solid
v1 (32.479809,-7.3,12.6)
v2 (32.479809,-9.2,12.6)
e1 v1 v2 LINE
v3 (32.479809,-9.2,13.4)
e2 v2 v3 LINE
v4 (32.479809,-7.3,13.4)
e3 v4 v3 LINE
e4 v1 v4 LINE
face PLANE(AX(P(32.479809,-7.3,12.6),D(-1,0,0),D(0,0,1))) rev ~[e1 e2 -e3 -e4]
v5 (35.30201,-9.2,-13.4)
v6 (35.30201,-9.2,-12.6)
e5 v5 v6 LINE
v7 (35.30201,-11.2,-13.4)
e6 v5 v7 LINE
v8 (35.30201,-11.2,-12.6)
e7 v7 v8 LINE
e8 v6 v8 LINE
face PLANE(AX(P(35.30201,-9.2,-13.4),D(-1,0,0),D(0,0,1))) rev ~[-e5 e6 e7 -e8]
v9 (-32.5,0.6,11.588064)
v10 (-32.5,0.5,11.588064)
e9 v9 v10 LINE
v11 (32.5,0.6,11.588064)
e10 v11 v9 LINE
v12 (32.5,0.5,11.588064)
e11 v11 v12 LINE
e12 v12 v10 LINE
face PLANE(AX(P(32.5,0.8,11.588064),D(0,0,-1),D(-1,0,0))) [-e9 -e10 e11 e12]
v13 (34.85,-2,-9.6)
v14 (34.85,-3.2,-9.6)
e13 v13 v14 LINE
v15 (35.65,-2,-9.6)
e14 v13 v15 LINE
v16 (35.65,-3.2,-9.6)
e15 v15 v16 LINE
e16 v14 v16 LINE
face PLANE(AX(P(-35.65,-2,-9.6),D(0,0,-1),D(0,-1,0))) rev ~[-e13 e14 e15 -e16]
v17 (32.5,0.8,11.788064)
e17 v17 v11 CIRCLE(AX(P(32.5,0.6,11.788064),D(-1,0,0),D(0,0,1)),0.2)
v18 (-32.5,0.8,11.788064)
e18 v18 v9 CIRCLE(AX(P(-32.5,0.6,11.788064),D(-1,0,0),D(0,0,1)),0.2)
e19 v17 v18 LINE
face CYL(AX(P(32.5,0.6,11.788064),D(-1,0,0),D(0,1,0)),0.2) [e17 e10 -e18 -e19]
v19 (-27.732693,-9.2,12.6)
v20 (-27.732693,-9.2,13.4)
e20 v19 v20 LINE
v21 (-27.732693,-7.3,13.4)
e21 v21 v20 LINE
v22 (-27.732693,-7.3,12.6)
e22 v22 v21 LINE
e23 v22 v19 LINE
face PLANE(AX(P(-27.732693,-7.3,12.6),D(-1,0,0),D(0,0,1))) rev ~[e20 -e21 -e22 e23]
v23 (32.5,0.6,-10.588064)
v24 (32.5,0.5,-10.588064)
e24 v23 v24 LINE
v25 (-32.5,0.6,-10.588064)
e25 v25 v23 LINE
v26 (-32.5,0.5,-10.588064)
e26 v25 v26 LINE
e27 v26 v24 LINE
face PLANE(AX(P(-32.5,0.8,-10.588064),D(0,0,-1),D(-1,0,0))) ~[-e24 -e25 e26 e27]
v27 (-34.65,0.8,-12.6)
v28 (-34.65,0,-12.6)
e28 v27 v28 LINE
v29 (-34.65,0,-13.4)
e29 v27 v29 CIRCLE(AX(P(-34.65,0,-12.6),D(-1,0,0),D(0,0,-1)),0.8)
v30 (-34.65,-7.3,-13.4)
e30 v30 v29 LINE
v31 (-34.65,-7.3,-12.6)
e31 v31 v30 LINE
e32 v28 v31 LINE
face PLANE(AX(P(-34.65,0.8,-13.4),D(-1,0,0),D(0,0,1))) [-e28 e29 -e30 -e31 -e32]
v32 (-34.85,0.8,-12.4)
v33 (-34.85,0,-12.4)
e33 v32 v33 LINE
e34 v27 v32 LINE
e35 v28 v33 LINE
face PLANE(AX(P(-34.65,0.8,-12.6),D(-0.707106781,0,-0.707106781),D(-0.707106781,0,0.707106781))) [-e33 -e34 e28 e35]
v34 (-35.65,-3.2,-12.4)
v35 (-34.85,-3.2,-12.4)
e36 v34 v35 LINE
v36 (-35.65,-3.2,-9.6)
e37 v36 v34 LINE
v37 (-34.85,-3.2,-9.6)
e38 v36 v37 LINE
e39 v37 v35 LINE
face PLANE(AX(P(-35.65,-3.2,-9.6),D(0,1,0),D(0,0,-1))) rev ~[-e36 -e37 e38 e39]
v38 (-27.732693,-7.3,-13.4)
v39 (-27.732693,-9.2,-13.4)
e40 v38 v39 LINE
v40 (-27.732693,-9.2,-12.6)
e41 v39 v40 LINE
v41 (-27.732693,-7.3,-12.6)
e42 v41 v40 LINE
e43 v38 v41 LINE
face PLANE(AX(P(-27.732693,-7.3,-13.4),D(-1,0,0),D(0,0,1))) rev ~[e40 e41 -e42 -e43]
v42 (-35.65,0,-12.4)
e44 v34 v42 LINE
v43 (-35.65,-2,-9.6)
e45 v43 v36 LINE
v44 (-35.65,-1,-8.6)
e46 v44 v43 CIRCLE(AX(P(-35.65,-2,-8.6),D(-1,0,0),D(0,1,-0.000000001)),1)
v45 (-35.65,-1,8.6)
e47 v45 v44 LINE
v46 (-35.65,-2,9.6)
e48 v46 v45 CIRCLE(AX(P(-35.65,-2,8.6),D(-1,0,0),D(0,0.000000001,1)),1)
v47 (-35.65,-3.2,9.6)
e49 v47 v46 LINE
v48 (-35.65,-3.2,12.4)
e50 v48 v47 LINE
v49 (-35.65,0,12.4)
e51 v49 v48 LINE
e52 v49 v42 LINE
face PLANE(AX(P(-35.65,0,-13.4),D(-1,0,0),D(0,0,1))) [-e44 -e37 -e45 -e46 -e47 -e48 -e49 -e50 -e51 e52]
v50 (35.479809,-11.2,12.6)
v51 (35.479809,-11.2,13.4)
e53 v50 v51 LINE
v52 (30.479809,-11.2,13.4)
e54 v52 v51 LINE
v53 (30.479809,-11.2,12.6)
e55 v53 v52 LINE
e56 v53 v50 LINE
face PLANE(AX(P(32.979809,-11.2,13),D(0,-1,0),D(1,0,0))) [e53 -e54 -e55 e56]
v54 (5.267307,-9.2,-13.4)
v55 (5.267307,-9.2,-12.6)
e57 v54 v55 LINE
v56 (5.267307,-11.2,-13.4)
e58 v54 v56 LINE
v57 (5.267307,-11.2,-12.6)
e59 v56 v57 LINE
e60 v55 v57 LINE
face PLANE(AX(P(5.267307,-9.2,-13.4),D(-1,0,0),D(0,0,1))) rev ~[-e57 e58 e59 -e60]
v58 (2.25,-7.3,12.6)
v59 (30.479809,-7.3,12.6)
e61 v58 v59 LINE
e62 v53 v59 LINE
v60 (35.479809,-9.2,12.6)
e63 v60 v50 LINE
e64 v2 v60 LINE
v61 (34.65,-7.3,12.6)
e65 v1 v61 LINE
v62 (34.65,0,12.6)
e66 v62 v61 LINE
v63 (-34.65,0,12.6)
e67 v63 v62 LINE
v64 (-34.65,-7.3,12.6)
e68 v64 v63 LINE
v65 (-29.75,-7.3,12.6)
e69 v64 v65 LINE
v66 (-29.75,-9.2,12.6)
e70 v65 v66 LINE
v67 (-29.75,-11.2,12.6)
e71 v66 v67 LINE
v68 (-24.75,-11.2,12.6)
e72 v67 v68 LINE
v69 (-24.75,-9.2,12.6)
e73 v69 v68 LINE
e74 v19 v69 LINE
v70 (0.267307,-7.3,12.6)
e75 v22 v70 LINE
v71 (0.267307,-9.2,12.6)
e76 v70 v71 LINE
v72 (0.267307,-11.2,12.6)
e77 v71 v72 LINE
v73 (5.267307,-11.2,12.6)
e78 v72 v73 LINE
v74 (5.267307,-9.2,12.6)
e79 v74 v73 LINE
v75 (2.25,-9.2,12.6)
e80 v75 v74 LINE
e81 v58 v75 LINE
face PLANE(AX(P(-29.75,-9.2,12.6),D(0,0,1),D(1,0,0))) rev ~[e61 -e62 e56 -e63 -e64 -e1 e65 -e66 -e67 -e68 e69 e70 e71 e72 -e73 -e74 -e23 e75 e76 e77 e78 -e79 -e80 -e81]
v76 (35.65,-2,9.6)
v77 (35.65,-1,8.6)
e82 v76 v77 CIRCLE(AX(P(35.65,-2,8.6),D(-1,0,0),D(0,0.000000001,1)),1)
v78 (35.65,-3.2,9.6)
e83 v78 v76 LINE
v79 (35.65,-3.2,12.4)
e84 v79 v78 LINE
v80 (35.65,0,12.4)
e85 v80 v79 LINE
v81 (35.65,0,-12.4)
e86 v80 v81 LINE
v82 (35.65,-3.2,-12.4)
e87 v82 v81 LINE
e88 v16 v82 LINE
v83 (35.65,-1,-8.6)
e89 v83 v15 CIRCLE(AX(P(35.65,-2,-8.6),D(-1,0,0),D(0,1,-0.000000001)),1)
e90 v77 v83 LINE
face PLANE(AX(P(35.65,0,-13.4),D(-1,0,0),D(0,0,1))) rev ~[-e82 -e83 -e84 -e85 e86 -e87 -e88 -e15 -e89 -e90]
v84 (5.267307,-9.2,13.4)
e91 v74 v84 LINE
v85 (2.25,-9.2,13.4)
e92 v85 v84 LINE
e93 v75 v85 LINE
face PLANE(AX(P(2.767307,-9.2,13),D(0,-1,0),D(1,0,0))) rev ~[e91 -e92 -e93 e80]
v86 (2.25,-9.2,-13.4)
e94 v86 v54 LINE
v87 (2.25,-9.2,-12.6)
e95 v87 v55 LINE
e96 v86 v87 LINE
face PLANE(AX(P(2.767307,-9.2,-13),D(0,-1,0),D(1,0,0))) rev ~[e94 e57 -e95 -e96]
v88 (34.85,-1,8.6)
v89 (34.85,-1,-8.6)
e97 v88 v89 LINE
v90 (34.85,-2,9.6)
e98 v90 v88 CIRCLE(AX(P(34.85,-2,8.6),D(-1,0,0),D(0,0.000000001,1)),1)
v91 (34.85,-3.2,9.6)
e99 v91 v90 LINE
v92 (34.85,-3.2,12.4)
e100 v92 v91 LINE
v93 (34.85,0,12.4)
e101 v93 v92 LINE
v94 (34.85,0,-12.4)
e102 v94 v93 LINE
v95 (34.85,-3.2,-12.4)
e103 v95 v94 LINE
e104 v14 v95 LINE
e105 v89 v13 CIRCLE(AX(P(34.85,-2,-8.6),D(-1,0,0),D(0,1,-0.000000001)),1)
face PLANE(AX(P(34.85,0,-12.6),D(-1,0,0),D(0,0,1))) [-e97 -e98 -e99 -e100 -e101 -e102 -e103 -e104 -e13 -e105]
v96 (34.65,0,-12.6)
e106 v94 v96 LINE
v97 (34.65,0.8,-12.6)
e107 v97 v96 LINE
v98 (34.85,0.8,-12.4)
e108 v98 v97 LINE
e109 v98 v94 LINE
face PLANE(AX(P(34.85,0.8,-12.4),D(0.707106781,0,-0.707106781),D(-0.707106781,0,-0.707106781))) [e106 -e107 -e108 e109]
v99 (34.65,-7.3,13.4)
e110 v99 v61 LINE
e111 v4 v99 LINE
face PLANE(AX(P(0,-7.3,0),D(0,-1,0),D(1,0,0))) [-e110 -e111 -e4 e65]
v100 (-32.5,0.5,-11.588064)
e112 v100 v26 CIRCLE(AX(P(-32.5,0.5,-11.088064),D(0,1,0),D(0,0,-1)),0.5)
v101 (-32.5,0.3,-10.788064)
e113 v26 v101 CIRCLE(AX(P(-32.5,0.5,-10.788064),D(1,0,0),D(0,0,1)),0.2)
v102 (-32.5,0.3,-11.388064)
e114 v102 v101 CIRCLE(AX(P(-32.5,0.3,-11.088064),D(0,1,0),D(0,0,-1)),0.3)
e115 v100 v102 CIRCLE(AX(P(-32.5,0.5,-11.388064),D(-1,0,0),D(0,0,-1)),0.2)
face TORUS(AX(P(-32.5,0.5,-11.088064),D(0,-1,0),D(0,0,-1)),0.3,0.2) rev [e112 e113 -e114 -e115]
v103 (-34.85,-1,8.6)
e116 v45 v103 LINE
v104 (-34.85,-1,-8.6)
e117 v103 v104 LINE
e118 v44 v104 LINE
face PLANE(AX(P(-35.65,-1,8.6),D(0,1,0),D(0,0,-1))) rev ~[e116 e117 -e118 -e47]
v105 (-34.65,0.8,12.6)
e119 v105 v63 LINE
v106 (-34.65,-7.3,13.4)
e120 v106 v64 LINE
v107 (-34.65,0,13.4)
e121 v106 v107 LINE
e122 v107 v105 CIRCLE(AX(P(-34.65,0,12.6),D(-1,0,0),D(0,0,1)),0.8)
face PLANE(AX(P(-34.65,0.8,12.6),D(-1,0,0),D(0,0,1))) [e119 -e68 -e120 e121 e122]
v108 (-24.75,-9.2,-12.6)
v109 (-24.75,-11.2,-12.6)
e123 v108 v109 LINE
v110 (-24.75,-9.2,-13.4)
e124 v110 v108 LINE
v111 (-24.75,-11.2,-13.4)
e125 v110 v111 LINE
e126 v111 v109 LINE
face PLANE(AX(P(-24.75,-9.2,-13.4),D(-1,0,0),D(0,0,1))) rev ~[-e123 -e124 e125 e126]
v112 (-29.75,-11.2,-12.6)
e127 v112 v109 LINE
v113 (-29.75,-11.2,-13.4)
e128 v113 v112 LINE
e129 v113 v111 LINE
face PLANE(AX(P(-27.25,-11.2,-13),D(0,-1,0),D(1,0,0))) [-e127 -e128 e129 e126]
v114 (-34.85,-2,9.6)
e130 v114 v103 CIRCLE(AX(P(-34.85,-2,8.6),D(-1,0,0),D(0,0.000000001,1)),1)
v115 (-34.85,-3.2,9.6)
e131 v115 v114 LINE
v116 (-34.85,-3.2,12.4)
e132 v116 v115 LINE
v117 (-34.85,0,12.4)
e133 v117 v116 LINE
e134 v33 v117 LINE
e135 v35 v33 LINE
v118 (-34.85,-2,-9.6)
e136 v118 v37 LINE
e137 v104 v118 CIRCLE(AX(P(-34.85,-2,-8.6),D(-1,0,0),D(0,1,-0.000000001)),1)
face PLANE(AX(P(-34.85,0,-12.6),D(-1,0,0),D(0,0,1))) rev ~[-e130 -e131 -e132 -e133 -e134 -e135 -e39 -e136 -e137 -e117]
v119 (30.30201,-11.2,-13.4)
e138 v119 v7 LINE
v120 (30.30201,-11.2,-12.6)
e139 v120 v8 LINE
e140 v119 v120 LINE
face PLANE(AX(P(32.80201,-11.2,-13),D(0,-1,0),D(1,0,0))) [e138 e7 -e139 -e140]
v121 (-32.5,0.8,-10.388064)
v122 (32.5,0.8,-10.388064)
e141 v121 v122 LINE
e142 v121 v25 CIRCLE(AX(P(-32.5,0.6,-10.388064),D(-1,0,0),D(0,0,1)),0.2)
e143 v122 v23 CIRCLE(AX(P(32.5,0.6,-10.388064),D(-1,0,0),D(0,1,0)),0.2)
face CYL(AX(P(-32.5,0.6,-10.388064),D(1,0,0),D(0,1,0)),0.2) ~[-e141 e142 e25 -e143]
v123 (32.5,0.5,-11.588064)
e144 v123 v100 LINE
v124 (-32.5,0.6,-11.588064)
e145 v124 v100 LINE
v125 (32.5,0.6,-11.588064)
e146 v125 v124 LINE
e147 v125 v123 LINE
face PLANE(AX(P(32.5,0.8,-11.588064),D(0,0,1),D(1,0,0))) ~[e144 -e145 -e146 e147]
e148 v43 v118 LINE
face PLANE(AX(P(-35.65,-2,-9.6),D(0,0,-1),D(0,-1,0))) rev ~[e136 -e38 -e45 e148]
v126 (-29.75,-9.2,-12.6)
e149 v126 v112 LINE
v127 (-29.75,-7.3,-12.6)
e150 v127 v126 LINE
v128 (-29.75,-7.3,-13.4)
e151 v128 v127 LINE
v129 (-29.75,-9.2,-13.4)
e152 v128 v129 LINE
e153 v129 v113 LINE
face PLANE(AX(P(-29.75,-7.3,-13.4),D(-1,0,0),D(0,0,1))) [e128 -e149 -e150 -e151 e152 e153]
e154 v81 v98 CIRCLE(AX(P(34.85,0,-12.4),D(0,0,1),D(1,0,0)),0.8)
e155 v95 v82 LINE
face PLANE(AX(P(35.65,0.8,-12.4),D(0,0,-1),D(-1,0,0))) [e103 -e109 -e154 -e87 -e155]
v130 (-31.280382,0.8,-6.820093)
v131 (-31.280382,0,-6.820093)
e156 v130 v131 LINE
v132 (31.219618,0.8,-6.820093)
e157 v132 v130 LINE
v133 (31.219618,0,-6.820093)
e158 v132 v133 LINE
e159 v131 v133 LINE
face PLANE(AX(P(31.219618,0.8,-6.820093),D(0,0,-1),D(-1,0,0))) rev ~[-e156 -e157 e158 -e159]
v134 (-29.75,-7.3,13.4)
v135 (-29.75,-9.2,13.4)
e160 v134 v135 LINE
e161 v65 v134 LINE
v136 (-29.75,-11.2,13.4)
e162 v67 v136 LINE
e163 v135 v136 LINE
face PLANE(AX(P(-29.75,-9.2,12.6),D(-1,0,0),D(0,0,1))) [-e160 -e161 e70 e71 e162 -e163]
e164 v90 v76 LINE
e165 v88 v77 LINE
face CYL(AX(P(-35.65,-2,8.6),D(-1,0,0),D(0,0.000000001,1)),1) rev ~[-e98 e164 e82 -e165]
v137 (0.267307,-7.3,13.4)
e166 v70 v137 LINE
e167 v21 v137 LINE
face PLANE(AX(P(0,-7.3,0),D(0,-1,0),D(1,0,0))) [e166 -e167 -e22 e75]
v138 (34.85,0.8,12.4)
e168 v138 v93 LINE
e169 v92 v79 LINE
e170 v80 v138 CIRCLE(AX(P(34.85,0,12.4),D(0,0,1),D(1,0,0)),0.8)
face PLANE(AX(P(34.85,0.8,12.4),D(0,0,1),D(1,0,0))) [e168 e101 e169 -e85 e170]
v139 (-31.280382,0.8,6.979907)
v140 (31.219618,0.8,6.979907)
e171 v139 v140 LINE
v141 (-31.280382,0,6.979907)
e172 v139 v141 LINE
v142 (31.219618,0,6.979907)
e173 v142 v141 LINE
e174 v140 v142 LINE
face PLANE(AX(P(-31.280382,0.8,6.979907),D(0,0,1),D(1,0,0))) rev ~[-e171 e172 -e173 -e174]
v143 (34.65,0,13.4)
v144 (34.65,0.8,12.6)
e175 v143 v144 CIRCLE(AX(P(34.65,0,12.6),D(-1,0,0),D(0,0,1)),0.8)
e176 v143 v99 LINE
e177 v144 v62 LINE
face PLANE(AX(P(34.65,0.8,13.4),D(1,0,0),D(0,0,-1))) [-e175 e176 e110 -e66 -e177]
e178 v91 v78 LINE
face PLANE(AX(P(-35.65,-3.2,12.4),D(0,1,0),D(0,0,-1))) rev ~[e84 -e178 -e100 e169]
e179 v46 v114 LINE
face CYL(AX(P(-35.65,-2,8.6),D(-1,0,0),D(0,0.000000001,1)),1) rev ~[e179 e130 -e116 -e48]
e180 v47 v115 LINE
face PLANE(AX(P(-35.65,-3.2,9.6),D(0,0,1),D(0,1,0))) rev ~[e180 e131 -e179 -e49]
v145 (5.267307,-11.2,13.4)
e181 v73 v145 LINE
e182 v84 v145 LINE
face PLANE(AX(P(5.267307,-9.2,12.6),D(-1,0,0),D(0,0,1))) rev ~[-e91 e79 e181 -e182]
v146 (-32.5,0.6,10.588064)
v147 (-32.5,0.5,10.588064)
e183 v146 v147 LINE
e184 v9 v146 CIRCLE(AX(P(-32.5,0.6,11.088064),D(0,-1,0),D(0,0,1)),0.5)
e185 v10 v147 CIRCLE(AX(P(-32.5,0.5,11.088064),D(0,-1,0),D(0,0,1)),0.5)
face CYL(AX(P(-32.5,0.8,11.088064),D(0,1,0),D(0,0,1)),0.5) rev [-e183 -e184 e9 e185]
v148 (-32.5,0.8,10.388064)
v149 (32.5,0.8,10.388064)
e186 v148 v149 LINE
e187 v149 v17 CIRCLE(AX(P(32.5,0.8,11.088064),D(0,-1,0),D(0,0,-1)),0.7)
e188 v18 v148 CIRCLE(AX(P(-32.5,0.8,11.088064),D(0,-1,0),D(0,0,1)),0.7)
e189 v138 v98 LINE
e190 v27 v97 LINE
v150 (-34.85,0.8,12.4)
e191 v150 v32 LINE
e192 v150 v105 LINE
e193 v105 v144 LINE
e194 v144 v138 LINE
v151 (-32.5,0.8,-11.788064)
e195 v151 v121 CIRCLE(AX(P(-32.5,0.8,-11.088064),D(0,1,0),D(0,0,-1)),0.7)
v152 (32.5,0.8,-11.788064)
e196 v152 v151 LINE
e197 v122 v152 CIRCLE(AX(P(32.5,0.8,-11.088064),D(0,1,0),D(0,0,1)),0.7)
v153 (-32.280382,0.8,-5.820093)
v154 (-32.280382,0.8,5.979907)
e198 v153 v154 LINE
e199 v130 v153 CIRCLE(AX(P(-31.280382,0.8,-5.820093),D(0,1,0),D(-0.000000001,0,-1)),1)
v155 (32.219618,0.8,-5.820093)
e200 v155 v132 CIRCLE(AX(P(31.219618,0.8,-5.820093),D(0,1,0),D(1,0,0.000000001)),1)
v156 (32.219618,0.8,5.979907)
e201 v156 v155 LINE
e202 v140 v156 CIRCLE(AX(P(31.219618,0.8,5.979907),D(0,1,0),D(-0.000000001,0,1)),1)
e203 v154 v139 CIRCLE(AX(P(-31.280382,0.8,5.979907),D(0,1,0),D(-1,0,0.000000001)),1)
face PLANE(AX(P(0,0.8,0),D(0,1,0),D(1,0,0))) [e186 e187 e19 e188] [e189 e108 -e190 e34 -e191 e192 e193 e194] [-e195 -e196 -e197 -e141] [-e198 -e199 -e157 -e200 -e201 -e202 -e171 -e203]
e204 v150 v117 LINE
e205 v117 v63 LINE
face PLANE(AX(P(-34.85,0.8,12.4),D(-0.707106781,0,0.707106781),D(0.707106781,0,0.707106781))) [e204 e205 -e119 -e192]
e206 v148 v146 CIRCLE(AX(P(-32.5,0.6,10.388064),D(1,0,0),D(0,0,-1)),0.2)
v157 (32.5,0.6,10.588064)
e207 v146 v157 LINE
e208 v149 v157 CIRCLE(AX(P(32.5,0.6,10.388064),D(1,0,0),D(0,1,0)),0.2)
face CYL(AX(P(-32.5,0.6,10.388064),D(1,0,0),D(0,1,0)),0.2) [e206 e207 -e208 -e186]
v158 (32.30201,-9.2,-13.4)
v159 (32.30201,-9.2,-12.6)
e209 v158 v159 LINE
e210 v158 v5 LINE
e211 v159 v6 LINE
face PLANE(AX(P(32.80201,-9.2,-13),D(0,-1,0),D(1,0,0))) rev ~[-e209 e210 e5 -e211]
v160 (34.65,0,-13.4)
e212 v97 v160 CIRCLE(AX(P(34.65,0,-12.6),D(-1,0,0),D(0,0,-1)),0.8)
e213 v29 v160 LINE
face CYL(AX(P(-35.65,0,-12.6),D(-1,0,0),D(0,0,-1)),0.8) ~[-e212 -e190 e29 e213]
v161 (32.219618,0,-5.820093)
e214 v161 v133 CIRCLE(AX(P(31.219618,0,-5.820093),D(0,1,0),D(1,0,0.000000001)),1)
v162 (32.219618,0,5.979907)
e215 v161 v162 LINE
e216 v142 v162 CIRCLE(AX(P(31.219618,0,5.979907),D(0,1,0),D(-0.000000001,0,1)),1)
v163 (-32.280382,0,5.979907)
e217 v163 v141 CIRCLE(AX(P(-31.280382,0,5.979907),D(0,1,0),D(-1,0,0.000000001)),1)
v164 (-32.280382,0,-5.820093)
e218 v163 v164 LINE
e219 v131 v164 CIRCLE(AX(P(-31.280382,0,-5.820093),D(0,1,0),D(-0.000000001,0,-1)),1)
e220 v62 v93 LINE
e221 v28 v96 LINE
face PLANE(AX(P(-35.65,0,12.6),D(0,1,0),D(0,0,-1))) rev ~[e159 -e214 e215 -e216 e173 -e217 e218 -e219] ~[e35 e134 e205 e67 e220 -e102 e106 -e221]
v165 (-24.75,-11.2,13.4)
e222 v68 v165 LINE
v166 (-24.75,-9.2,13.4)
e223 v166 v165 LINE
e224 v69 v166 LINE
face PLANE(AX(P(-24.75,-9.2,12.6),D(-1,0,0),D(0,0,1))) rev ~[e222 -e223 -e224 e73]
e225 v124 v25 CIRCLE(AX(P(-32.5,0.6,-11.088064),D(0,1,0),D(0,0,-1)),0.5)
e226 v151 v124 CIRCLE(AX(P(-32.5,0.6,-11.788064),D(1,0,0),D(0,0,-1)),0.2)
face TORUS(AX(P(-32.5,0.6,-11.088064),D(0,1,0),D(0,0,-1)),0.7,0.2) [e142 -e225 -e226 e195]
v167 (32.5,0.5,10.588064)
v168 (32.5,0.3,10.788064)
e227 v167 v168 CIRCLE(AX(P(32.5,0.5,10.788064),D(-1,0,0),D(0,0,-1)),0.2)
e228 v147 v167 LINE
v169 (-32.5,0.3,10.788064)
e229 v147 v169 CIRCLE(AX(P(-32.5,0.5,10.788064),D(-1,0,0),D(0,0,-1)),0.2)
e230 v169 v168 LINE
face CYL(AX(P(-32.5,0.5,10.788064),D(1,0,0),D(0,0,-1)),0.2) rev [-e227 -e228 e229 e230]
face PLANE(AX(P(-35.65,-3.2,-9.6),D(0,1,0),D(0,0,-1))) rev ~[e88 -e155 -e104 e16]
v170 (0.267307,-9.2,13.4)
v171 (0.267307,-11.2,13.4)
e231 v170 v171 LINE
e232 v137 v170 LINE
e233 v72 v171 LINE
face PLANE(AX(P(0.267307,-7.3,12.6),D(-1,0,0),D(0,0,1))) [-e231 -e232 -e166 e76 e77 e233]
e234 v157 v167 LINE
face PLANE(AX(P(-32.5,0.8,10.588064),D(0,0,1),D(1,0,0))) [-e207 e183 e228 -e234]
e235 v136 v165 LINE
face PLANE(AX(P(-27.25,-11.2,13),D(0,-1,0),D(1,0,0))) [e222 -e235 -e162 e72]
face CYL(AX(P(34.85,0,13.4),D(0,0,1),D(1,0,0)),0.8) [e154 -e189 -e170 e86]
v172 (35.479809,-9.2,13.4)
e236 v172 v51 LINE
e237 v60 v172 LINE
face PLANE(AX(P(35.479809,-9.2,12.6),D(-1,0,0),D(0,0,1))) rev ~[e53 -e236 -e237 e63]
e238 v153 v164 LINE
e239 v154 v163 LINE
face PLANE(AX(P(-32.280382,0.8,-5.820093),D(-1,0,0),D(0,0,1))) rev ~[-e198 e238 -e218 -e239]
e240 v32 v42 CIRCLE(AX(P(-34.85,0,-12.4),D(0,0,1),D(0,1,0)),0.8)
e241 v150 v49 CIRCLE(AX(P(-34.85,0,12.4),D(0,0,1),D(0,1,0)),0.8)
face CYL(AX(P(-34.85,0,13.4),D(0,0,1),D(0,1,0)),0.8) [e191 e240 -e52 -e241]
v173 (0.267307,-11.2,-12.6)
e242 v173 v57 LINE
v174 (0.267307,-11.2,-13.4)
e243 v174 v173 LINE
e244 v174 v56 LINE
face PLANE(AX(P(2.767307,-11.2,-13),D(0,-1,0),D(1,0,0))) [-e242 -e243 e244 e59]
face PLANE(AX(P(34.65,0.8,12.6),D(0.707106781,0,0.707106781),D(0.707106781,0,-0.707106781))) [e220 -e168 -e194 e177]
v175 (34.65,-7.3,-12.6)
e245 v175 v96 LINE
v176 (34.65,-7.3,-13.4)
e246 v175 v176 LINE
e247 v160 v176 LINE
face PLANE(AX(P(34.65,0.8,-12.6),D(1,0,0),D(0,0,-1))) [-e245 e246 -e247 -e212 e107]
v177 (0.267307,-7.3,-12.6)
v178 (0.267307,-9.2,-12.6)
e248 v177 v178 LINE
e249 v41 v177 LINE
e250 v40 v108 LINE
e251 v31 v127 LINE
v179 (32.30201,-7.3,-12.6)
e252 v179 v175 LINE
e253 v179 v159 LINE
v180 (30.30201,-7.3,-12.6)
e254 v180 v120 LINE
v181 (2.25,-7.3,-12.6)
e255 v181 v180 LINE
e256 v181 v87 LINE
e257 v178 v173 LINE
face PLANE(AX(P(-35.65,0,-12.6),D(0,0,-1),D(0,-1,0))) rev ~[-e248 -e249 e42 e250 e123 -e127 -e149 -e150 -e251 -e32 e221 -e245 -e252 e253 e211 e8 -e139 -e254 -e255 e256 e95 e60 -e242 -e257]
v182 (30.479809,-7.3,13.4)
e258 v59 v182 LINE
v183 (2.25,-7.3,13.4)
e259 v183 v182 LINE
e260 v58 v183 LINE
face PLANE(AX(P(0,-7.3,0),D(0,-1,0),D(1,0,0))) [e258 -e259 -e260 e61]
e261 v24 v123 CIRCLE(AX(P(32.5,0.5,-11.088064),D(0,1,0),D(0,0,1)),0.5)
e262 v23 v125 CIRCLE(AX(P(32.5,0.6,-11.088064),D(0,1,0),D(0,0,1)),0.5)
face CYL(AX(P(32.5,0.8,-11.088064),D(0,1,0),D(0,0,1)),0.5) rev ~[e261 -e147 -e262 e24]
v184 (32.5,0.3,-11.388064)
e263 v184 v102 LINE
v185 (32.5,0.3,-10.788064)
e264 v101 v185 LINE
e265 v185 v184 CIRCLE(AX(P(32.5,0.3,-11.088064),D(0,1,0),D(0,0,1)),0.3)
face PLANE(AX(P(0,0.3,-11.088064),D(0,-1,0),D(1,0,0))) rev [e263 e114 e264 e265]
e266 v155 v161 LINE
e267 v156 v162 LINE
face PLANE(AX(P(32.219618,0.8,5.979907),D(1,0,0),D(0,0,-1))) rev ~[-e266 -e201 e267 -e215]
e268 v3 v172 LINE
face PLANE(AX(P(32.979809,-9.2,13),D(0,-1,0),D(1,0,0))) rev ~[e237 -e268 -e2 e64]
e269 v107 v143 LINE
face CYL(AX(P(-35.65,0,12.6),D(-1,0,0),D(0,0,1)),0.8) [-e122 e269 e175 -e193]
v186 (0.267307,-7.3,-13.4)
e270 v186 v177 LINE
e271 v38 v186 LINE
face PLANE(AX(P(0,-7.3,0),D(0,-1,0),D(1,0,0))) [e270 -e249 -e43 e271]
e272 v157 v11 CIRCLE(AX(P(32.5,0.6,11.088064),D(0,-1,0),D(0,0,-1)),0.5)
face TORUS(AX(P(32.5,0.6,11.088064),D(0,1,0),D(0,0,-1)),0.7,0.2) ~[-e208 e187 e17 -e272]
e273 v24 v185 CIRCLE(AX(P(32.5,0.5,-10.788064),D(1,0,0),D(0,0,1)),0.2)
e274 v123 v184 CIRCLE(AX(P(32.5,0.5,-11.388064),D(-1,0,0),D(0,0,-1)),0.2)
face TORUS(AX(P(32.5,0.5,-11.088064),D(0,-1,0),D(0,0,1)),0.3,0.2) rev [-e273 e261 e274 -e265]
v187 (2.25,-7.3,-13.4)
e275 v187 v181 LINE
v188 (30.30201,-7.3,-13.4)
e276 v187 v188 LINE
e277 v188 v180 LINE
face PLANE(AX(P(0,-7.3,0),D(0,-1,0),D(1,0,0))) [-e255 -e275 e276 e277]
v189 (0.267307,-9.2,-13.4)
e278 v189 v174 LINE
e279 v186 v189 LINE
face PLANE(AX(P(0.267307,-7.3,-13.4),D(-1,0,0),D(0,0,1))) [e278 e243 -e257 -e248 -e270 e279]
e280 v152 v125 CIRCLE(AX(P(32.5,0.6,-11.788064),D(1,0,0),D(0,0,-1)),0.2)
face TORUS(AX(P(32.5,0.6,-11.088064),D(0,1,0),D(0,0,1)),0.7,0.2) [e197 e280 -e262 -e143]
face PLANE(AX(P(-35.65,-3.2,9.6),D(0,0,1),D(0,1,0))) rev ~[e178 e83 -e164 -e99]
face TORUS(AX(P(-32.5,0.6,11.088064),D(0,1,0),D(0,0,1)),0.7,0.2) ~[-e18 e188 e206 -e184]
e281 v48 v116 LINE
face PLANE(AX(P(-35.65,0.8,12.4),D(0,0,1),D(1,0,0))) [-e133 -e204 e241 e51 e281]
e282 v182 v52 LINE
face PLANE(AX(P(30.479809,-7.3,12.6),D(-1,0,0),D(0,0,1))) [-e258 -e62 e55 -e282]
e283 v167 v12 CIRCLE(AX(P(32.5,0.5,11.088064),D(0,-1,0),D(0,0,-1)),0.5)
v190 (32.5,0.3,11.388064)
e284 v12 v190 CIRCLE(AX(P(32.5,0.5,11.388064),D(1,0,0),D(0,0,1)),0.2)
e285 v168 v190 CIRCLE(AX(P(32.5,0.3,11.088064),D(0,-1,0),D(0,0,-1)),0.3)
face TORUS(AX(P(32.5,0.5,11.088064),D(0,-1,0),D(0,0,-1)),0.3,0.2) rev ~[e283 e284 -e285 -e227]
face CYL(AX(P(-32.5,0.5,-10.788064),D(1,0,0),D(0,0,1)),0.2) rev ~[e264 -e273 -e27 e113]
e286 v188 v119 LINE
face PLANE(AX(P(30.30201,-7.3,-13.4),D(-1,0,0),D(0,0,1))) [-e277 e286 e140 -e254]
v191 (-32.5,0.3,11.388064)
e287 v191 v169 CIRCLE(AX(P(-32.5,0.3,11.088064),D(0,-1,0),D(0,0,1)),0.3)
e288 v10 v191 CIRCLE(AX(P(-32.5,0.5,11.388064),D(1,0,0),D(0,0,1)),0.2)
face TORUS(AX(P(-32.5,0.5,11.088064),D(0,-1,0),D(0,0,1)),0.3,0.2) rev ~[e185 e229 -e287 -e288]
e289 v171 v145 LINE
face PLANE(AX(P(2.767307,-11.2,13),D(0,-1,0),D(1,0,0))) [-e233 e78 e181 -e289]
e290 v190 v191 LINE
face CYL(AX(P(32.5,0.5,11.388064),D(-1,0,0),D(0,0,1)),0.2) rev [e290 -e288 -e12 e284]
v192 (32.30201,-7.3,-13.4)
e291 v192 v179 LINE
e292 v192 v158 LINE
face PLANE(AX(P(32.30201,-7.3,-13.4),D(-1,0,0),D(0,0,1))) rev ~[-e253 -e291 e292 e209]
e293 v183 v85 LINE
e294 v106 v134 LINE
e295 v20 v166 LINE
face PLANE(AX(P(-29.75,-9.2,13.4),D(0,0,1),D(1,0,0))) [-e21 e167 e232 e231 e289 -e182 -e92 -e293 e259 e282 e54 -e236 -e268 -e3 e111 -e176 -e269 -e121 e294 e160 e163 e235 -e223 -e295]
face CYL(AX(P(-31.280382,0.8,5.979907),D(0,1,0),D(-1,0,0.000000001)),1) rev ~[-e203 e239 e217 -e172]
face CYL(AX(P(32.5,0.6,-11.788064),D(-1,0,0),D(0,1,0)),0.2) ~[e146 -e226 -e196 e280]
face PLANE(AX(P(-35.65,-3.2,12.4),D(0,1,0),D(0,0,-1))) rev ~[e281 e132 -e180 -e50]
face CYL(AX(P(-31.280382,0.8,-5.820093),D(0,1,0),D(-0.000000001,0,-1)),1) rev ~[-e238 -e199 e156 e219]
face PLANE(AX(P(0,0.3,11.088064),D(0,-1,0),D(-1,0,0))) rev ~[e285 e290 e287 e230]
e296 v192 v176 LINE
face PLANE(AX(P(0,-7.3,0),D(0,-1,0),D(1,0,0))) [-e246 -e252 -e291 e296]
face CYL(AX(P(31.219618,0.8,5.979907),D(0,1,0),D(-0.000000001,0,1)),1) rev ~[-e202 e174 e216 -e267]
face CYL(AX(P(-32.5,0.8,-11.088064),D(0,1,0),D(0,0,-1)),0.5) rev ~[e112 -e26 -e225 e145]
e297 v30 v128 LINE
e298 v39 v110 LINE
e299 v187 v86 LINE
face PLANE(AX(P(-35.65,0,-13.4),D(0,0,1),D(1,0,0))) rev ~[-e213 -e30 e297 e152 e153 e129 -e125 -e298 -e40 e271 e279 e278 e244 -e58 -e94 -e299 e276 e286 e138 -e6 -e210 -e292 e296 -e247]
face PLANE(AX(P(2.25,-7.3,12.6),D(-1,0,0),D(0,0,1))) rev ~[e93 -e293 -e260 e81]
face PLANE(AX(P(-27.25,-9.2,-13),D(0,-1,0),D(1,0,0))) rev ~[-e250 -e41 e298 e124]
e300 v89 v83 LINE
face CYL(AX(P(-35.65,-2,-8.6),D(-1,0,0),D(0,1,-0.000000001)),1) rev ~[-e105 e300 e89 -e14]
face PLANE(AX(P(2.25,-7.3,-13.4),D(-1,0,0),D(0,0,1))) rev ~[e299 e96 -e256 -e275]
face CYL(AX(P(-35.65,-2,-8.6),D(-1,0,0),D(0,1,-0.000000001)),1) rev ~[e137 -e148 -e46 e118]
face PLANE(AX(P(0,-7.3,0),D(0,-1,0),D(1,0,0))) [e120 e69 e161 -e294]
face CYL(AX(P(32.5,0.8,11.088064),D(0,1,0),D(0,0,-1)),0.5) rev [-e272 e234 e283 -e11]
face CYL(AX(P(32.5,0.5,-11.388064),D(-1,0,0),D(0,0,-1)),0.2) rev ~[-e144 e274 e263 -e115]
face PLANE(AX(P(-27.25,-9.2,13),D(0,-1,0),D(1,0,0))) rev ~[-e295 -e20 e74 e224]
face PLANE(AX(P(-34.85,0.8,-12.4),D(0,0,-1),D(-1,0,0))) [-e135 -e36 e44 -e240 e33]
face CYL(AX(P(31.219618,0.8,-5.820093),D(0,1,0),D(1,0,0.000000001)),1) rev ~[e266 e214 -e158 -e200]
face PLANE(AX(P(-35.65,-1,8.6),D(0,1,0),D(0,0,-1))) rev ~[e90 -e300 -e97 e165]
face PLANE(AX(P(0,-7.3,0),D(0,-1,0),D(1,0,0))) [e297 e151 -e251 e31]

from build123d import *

# Parameters (mm, degrees)
SKETCH1_W            = 71.3
SKETCH1_H            = 26.8
BOSS_EXTRUDE1_DEPTH  = 0.8
SKETCH2_W            = 71.3
SKETCH2_H            = 26.8
SKETCH2_W_2          = 69.7
SKETCH2_H_2          = 25.2
BOSS_EXTRUDE2_DEPTH  = 7.3
CUT_EXTRUDE1_DEPTH   = 73.91460759
CUT_EXTRUDE4_DEPTH   = 46.193500639
CUT_EXTRUDE5_DEPTH   = 39.937032501
SKETCH13_W           = 2
SKETCH13_H           = 0.8
SKETCH13_W_2         = 1.982692709
SKETCH13_W_3         = 2.017307291
BITIS_DEPTH          = 1.9
SKETCH14_W           = 5
SKETCH14_H           = 0.8
COKOR_DEPTH          = 2
CUT_EXTRUDE6_DEPTH   = 0.5
FILLET1_R            = 0.2
FILLET1_OF_MIRROR1_R = 0.2
CUT_EXTRUDE7_REACH   = 41.931


with BuildPart() as part:
    # Sketch1 → Boss-Extrude1 (new body)
    with BuildSketch(Plane(origin=(0, 0, 0), x_dir=(1, 0, 0), z_dir=(0, 1, 0))):
        Rectangle(SKETCH1_W, SKETCH1_H)
    extrude(amount=BOSS_EXTRUDE1_DEPTH)

    # Sketch2 → Boss-Extrude2 (add)
    with BuildSketch(Plane.XZ):
        Rectangle(SKETCH2_W, SKETCH2_H)
        Rectangle(SKETCH2_W_2, SKETCH2_H_2, mode=Mode.SUBTRACT)
    extrude(amount=BOSS_EXTRUDE2_DEPTH)

    # Sketch5 → Cut-Extrude1 (cut, through all)
    with BuildSketch(Plane.ZY.offset(35.65)):
        with BuildLine():
            Line((-12.4, 0), (-12.6, 0))
            Line((-12.6, 0), (-12.6, -7.3))
            Line((-12.6, -7.3), (12.6, -7.3))
            Line((12.6, -7.3), (12.6, 0))
            Line((12.6, 0), (12.4, 0))
            Line((12.4, 0), (12.4, -3.2))
            Line((12.4, -3.2), (9.6, -3.2))
            Line((9.6, -3.2), (9.6, -2))
            ThreePointArc((9.6, -2), (9.307106781, -1.292893219), (8.6, -1))
            Line((8.6, -1), (-8.6, -1))
            ThreePointArc((-8.6, -1), (-9.307106781, -1.292893219), (-9.6, -2))
            Line((-9.6, -2), (-9.6, -3.2))
            Line((-9.6, -3.2), (-12.4, -3.2))
            Line((-12.4, -3.2), (-12.4, 0))
        make_face()
        with BuildLine():
            Line((13.4, 0.8), (13.4, 0))
            ThreePointArc((13.4, 0), (13.165685425, 0.565685425), (12.6, 0.8))
            Line((12.6, 0.8), (13.4, 0.8))
        make_face()
        with BuildLine():
            Line((-12.6, 0.8), (-13.4, 0.8))
            Line((-13.4, 0.8), (-13.4, 0))
            ThreePointArc((-13.4, 0), (-13.165685425, 0.565685425), (-12.6, 0.8))
        make_face()
    extrude(amount=-CUT_EXTRUDE1_DEPTH, mode=Mode.SUBTRACT)

    # Sketch9 → Cut-Extrude4 (cut, through all)
    with BuildSketch(Plane.XY.offset(13.4)):
        with BuildLine():
            ThreePointArc((-34.85, 0.8), (-35.415685425, 0.565685425), (-35.65, 0))
            Line((-35.65, 0), (-35.65, 0.8))
            Line((-35.65, 0.8), (-34.85, 0.8))
        make_face()
        Polygon((-34.65, 0), (-34.85, 0), (-34.85, -3.2), (-35.65, -3.2), (-35.65, -7.3), (-34.65, -7.3), align=None)
        Polygon((34.85, 0), (34.65, 0), (34.65, -7.3), (35.65, -7.3), (35.65, -3.2), (34.85, -3.2), align=None)
        with BuildLine():
            Line((35.65, 0.8), (35.65, 0))
            ThreePointArc((35.65, 0), (35.415685425, 0.565685425), (34.85, 0.8))
            Line((34.85, 0.8), (35.65, 0.8))
        make_face()
    extrude(amount=-CUT_EXTRUDE4_DEPTH, mode=Mode.SUBTRACT)

    # Sketch10 → Cut-Extrude5 (cut, through all)
    with BuildSketch(Plane(origin=(0, 0.8, 0), x_dir=(1, 0, 0), z_dir=(0, 1, 0))):
        Polygon((-34.65, -12.6), (-34.65, -13.4), (-35.65, -13.4), (-35.65, -12.4), (-34.85, -12.4), align=None)
        Polygon((35.65, -13.4), (34.65, -13.4), (34.65, -12.6), (34.85, -12.4), (35.65, -12.4), align=None)
        Polygon((34.65, 12.6), (34.65, 13.4), (35.65, 13.4), (35.65, 12.4), (34.85, 12.4), align=None)
        Polygon((-35.65, 13.4), (-34.65, 13.4), (-34.65, 12.6), (-34.85, 12.4), (-35.65, 12.4), align=None)
    extrude(amount=-CUT_EXTRUDE5_DEPTH, mode=Mode.SUBTRACT)

    # Sketch13 → Bitis (add)
    with BuildSketch(Plane.XZ.offset(7.3)):
        with Locations((31.479809087, 13)):
            Rectangle(SKETCH13_W, SKETCH13_H)
        with Locations((31.302010091, -13)):
            Rectangle(SKETCH13_W, SKETCH13_H)
        with Locations((1.258653645, -13)):
            Rectangle(SKETCH13_W_2, SKETCH13_H)
        with Locations((-28.741346355, 13)):
            Rectangle(SKETCH13_W_3, SKETCH13_H)
        with Locations((1.258653645, 13)):
            Rectangle(SKETCH13_W_2, SKETCH13_H)
        with Locations((-28.741346355, -13)):
            Rectangle(SKETCH13_W_3, SKETCH13_H)
    extrude(amount=BITIS_DEPTH)

    # Sketch14 → Cokor (add)
    with BuildSketch(Plane.XZ.offset(9.2)):
        with Locations((-27.25, 13)):
            Rectangle(SKETCH14_W, SKETCH14_H)
        with Locations((2.767307291, -13)):
            Rectangle(SKETCH14_W, SKETCH14_H)
        with Locations((-27.25, -13)):
            Rectangle(SKETCH14_W, SKETCH14_H)
        with Locations((2.767307291, 13)):
            Rectangle(SKETCH14_W, SKETCH14_H)
        with Locations((32.979809087, 13)):
            Rectangle(SKETCH14_W, SKETCH14_H)
        with Locations((32.802010091, -13)):
            Rectangle(SKETCH14_W, SKETCH14_H)
    extrude(amount=COKOR_DEPTH)

    # Sketch15 → Cut-Extrude6 (cut)
    with BuildSketch(Plane(origin=(0, 0.8, 0), x_dir=(1, 0, 0), z_dir=(0, 1, 0))):
        with BuildLine():
            Line((-32.5, -10.588064309), (32.5, -10.588064309))
            ThreePointArc((32.5, -10.588064309), (33, -11.088064309), (32.5, -11.588064309))
            Line((32.5, -11.588064309), (-32.5, -11.588064309))
            ThreePointArc((-32.5, -11.588064309), (-33, -11.088064309), (-32.5, -10.588064309))
        make_face()
    cut_extrude6 = extrude(amount=-CUT_EXTRUDE6_DEPTH, mode=Mode.SUBTRACT)

    # Fillet1
    fillet1_edges = [part.edges().sort_by_distance(p)[0] for p in [
        (-33, 0.3, 11.088064309),
        (0, 0.3, 10.588064309),
        (33, 0.3, 11.088064309),
        (0, 0.3, 11.588064309),
        (-33, 0.8, 11.088064309),
        (0, 0.8, 11.588064309),
        (33, 0.8, 11.088064309),
        (0, 0.8, 10.588064309),
    ]]
    fillet(fillet1_edges, radius=FILLET1_R)

    # Mirror1: Cut-Extrude6 across plane
    add(cut_extrude6.mirror(Plane.XY), mode=Mode.SUBTRACT)

    # Fillet1 of Mirror1
    fillet1_of_mirror1_edges = [part.edges().sort_by_distance(p)[0] for p in [
        (-33, 0.3, -11.088064309),
        (0, 0.3, -10.588064309),
        (33, 0.3, -11.088064309),
        (0, 0.3, -11.588064309),
        (-33, 0.8, -11.088064309),
        (0, 0.8, -11.588064309),
        (33, 0.8, -11.088064309),
        (0, 0.8, -10.588064309),
    ]]
    fillet(fillet1_of_mirror1_edges, radius=FILLET1_OF_MIRROR1_R)

    # Sketch19 → Cut-Extrude7 (cut, up to next)
    with BuildSketch(Plane(origin=(0, 0.8, 0), x_dir=(1, 0, 0), z_dir=(0, 1, 0)), mode=Mode.PRIVATE) as cut_extrude7_sk1:
        with BuildLine():
            Line((-31.280382084, -6.979906863), (31.219617916, -6.979906863))
            ThreePointArc((31.219617916, -6.979906863), (31.926724698, -6.687013644), (32.219617916, -5.979906863))
            Line((32.219617916, -5.979906863), (32.219617916, 5.820093137))
            ThreePointArc((32.219617916, 5.820093137), (31.926724698, 6.527199918), (31.219617916, 6.820093137))
            Line((31.219617916, 6.820093137), (-31.280382084, 6.820093137))
            ThreePointArc((-31.280382084, 6.820093137), (-31.987488865, 6.527199918), (-32.280382084, 5.820093137))
            Line((-32.280382084, 5.820093137), (-32.280382084, -5.979906863))
            ThreePointArc((-32.280382084, -5.979906863), (-31.987488865, -6.687013644), (-31.280382084, -6.979906863))
        make_face()
    cut_extrude7_tool1 = extrude(cut_extrude7_sk1.sketch, amount=-CUT_EXTRUDE7_REACH, mode=Mode.PRIVATE) & part.part
    add(cut_extrude7_tool1.solids().sort_by_distance((-0.030382, 0.8, 0.079907))[0], mode=Mode.SUBTRACT)


solid = part.part
